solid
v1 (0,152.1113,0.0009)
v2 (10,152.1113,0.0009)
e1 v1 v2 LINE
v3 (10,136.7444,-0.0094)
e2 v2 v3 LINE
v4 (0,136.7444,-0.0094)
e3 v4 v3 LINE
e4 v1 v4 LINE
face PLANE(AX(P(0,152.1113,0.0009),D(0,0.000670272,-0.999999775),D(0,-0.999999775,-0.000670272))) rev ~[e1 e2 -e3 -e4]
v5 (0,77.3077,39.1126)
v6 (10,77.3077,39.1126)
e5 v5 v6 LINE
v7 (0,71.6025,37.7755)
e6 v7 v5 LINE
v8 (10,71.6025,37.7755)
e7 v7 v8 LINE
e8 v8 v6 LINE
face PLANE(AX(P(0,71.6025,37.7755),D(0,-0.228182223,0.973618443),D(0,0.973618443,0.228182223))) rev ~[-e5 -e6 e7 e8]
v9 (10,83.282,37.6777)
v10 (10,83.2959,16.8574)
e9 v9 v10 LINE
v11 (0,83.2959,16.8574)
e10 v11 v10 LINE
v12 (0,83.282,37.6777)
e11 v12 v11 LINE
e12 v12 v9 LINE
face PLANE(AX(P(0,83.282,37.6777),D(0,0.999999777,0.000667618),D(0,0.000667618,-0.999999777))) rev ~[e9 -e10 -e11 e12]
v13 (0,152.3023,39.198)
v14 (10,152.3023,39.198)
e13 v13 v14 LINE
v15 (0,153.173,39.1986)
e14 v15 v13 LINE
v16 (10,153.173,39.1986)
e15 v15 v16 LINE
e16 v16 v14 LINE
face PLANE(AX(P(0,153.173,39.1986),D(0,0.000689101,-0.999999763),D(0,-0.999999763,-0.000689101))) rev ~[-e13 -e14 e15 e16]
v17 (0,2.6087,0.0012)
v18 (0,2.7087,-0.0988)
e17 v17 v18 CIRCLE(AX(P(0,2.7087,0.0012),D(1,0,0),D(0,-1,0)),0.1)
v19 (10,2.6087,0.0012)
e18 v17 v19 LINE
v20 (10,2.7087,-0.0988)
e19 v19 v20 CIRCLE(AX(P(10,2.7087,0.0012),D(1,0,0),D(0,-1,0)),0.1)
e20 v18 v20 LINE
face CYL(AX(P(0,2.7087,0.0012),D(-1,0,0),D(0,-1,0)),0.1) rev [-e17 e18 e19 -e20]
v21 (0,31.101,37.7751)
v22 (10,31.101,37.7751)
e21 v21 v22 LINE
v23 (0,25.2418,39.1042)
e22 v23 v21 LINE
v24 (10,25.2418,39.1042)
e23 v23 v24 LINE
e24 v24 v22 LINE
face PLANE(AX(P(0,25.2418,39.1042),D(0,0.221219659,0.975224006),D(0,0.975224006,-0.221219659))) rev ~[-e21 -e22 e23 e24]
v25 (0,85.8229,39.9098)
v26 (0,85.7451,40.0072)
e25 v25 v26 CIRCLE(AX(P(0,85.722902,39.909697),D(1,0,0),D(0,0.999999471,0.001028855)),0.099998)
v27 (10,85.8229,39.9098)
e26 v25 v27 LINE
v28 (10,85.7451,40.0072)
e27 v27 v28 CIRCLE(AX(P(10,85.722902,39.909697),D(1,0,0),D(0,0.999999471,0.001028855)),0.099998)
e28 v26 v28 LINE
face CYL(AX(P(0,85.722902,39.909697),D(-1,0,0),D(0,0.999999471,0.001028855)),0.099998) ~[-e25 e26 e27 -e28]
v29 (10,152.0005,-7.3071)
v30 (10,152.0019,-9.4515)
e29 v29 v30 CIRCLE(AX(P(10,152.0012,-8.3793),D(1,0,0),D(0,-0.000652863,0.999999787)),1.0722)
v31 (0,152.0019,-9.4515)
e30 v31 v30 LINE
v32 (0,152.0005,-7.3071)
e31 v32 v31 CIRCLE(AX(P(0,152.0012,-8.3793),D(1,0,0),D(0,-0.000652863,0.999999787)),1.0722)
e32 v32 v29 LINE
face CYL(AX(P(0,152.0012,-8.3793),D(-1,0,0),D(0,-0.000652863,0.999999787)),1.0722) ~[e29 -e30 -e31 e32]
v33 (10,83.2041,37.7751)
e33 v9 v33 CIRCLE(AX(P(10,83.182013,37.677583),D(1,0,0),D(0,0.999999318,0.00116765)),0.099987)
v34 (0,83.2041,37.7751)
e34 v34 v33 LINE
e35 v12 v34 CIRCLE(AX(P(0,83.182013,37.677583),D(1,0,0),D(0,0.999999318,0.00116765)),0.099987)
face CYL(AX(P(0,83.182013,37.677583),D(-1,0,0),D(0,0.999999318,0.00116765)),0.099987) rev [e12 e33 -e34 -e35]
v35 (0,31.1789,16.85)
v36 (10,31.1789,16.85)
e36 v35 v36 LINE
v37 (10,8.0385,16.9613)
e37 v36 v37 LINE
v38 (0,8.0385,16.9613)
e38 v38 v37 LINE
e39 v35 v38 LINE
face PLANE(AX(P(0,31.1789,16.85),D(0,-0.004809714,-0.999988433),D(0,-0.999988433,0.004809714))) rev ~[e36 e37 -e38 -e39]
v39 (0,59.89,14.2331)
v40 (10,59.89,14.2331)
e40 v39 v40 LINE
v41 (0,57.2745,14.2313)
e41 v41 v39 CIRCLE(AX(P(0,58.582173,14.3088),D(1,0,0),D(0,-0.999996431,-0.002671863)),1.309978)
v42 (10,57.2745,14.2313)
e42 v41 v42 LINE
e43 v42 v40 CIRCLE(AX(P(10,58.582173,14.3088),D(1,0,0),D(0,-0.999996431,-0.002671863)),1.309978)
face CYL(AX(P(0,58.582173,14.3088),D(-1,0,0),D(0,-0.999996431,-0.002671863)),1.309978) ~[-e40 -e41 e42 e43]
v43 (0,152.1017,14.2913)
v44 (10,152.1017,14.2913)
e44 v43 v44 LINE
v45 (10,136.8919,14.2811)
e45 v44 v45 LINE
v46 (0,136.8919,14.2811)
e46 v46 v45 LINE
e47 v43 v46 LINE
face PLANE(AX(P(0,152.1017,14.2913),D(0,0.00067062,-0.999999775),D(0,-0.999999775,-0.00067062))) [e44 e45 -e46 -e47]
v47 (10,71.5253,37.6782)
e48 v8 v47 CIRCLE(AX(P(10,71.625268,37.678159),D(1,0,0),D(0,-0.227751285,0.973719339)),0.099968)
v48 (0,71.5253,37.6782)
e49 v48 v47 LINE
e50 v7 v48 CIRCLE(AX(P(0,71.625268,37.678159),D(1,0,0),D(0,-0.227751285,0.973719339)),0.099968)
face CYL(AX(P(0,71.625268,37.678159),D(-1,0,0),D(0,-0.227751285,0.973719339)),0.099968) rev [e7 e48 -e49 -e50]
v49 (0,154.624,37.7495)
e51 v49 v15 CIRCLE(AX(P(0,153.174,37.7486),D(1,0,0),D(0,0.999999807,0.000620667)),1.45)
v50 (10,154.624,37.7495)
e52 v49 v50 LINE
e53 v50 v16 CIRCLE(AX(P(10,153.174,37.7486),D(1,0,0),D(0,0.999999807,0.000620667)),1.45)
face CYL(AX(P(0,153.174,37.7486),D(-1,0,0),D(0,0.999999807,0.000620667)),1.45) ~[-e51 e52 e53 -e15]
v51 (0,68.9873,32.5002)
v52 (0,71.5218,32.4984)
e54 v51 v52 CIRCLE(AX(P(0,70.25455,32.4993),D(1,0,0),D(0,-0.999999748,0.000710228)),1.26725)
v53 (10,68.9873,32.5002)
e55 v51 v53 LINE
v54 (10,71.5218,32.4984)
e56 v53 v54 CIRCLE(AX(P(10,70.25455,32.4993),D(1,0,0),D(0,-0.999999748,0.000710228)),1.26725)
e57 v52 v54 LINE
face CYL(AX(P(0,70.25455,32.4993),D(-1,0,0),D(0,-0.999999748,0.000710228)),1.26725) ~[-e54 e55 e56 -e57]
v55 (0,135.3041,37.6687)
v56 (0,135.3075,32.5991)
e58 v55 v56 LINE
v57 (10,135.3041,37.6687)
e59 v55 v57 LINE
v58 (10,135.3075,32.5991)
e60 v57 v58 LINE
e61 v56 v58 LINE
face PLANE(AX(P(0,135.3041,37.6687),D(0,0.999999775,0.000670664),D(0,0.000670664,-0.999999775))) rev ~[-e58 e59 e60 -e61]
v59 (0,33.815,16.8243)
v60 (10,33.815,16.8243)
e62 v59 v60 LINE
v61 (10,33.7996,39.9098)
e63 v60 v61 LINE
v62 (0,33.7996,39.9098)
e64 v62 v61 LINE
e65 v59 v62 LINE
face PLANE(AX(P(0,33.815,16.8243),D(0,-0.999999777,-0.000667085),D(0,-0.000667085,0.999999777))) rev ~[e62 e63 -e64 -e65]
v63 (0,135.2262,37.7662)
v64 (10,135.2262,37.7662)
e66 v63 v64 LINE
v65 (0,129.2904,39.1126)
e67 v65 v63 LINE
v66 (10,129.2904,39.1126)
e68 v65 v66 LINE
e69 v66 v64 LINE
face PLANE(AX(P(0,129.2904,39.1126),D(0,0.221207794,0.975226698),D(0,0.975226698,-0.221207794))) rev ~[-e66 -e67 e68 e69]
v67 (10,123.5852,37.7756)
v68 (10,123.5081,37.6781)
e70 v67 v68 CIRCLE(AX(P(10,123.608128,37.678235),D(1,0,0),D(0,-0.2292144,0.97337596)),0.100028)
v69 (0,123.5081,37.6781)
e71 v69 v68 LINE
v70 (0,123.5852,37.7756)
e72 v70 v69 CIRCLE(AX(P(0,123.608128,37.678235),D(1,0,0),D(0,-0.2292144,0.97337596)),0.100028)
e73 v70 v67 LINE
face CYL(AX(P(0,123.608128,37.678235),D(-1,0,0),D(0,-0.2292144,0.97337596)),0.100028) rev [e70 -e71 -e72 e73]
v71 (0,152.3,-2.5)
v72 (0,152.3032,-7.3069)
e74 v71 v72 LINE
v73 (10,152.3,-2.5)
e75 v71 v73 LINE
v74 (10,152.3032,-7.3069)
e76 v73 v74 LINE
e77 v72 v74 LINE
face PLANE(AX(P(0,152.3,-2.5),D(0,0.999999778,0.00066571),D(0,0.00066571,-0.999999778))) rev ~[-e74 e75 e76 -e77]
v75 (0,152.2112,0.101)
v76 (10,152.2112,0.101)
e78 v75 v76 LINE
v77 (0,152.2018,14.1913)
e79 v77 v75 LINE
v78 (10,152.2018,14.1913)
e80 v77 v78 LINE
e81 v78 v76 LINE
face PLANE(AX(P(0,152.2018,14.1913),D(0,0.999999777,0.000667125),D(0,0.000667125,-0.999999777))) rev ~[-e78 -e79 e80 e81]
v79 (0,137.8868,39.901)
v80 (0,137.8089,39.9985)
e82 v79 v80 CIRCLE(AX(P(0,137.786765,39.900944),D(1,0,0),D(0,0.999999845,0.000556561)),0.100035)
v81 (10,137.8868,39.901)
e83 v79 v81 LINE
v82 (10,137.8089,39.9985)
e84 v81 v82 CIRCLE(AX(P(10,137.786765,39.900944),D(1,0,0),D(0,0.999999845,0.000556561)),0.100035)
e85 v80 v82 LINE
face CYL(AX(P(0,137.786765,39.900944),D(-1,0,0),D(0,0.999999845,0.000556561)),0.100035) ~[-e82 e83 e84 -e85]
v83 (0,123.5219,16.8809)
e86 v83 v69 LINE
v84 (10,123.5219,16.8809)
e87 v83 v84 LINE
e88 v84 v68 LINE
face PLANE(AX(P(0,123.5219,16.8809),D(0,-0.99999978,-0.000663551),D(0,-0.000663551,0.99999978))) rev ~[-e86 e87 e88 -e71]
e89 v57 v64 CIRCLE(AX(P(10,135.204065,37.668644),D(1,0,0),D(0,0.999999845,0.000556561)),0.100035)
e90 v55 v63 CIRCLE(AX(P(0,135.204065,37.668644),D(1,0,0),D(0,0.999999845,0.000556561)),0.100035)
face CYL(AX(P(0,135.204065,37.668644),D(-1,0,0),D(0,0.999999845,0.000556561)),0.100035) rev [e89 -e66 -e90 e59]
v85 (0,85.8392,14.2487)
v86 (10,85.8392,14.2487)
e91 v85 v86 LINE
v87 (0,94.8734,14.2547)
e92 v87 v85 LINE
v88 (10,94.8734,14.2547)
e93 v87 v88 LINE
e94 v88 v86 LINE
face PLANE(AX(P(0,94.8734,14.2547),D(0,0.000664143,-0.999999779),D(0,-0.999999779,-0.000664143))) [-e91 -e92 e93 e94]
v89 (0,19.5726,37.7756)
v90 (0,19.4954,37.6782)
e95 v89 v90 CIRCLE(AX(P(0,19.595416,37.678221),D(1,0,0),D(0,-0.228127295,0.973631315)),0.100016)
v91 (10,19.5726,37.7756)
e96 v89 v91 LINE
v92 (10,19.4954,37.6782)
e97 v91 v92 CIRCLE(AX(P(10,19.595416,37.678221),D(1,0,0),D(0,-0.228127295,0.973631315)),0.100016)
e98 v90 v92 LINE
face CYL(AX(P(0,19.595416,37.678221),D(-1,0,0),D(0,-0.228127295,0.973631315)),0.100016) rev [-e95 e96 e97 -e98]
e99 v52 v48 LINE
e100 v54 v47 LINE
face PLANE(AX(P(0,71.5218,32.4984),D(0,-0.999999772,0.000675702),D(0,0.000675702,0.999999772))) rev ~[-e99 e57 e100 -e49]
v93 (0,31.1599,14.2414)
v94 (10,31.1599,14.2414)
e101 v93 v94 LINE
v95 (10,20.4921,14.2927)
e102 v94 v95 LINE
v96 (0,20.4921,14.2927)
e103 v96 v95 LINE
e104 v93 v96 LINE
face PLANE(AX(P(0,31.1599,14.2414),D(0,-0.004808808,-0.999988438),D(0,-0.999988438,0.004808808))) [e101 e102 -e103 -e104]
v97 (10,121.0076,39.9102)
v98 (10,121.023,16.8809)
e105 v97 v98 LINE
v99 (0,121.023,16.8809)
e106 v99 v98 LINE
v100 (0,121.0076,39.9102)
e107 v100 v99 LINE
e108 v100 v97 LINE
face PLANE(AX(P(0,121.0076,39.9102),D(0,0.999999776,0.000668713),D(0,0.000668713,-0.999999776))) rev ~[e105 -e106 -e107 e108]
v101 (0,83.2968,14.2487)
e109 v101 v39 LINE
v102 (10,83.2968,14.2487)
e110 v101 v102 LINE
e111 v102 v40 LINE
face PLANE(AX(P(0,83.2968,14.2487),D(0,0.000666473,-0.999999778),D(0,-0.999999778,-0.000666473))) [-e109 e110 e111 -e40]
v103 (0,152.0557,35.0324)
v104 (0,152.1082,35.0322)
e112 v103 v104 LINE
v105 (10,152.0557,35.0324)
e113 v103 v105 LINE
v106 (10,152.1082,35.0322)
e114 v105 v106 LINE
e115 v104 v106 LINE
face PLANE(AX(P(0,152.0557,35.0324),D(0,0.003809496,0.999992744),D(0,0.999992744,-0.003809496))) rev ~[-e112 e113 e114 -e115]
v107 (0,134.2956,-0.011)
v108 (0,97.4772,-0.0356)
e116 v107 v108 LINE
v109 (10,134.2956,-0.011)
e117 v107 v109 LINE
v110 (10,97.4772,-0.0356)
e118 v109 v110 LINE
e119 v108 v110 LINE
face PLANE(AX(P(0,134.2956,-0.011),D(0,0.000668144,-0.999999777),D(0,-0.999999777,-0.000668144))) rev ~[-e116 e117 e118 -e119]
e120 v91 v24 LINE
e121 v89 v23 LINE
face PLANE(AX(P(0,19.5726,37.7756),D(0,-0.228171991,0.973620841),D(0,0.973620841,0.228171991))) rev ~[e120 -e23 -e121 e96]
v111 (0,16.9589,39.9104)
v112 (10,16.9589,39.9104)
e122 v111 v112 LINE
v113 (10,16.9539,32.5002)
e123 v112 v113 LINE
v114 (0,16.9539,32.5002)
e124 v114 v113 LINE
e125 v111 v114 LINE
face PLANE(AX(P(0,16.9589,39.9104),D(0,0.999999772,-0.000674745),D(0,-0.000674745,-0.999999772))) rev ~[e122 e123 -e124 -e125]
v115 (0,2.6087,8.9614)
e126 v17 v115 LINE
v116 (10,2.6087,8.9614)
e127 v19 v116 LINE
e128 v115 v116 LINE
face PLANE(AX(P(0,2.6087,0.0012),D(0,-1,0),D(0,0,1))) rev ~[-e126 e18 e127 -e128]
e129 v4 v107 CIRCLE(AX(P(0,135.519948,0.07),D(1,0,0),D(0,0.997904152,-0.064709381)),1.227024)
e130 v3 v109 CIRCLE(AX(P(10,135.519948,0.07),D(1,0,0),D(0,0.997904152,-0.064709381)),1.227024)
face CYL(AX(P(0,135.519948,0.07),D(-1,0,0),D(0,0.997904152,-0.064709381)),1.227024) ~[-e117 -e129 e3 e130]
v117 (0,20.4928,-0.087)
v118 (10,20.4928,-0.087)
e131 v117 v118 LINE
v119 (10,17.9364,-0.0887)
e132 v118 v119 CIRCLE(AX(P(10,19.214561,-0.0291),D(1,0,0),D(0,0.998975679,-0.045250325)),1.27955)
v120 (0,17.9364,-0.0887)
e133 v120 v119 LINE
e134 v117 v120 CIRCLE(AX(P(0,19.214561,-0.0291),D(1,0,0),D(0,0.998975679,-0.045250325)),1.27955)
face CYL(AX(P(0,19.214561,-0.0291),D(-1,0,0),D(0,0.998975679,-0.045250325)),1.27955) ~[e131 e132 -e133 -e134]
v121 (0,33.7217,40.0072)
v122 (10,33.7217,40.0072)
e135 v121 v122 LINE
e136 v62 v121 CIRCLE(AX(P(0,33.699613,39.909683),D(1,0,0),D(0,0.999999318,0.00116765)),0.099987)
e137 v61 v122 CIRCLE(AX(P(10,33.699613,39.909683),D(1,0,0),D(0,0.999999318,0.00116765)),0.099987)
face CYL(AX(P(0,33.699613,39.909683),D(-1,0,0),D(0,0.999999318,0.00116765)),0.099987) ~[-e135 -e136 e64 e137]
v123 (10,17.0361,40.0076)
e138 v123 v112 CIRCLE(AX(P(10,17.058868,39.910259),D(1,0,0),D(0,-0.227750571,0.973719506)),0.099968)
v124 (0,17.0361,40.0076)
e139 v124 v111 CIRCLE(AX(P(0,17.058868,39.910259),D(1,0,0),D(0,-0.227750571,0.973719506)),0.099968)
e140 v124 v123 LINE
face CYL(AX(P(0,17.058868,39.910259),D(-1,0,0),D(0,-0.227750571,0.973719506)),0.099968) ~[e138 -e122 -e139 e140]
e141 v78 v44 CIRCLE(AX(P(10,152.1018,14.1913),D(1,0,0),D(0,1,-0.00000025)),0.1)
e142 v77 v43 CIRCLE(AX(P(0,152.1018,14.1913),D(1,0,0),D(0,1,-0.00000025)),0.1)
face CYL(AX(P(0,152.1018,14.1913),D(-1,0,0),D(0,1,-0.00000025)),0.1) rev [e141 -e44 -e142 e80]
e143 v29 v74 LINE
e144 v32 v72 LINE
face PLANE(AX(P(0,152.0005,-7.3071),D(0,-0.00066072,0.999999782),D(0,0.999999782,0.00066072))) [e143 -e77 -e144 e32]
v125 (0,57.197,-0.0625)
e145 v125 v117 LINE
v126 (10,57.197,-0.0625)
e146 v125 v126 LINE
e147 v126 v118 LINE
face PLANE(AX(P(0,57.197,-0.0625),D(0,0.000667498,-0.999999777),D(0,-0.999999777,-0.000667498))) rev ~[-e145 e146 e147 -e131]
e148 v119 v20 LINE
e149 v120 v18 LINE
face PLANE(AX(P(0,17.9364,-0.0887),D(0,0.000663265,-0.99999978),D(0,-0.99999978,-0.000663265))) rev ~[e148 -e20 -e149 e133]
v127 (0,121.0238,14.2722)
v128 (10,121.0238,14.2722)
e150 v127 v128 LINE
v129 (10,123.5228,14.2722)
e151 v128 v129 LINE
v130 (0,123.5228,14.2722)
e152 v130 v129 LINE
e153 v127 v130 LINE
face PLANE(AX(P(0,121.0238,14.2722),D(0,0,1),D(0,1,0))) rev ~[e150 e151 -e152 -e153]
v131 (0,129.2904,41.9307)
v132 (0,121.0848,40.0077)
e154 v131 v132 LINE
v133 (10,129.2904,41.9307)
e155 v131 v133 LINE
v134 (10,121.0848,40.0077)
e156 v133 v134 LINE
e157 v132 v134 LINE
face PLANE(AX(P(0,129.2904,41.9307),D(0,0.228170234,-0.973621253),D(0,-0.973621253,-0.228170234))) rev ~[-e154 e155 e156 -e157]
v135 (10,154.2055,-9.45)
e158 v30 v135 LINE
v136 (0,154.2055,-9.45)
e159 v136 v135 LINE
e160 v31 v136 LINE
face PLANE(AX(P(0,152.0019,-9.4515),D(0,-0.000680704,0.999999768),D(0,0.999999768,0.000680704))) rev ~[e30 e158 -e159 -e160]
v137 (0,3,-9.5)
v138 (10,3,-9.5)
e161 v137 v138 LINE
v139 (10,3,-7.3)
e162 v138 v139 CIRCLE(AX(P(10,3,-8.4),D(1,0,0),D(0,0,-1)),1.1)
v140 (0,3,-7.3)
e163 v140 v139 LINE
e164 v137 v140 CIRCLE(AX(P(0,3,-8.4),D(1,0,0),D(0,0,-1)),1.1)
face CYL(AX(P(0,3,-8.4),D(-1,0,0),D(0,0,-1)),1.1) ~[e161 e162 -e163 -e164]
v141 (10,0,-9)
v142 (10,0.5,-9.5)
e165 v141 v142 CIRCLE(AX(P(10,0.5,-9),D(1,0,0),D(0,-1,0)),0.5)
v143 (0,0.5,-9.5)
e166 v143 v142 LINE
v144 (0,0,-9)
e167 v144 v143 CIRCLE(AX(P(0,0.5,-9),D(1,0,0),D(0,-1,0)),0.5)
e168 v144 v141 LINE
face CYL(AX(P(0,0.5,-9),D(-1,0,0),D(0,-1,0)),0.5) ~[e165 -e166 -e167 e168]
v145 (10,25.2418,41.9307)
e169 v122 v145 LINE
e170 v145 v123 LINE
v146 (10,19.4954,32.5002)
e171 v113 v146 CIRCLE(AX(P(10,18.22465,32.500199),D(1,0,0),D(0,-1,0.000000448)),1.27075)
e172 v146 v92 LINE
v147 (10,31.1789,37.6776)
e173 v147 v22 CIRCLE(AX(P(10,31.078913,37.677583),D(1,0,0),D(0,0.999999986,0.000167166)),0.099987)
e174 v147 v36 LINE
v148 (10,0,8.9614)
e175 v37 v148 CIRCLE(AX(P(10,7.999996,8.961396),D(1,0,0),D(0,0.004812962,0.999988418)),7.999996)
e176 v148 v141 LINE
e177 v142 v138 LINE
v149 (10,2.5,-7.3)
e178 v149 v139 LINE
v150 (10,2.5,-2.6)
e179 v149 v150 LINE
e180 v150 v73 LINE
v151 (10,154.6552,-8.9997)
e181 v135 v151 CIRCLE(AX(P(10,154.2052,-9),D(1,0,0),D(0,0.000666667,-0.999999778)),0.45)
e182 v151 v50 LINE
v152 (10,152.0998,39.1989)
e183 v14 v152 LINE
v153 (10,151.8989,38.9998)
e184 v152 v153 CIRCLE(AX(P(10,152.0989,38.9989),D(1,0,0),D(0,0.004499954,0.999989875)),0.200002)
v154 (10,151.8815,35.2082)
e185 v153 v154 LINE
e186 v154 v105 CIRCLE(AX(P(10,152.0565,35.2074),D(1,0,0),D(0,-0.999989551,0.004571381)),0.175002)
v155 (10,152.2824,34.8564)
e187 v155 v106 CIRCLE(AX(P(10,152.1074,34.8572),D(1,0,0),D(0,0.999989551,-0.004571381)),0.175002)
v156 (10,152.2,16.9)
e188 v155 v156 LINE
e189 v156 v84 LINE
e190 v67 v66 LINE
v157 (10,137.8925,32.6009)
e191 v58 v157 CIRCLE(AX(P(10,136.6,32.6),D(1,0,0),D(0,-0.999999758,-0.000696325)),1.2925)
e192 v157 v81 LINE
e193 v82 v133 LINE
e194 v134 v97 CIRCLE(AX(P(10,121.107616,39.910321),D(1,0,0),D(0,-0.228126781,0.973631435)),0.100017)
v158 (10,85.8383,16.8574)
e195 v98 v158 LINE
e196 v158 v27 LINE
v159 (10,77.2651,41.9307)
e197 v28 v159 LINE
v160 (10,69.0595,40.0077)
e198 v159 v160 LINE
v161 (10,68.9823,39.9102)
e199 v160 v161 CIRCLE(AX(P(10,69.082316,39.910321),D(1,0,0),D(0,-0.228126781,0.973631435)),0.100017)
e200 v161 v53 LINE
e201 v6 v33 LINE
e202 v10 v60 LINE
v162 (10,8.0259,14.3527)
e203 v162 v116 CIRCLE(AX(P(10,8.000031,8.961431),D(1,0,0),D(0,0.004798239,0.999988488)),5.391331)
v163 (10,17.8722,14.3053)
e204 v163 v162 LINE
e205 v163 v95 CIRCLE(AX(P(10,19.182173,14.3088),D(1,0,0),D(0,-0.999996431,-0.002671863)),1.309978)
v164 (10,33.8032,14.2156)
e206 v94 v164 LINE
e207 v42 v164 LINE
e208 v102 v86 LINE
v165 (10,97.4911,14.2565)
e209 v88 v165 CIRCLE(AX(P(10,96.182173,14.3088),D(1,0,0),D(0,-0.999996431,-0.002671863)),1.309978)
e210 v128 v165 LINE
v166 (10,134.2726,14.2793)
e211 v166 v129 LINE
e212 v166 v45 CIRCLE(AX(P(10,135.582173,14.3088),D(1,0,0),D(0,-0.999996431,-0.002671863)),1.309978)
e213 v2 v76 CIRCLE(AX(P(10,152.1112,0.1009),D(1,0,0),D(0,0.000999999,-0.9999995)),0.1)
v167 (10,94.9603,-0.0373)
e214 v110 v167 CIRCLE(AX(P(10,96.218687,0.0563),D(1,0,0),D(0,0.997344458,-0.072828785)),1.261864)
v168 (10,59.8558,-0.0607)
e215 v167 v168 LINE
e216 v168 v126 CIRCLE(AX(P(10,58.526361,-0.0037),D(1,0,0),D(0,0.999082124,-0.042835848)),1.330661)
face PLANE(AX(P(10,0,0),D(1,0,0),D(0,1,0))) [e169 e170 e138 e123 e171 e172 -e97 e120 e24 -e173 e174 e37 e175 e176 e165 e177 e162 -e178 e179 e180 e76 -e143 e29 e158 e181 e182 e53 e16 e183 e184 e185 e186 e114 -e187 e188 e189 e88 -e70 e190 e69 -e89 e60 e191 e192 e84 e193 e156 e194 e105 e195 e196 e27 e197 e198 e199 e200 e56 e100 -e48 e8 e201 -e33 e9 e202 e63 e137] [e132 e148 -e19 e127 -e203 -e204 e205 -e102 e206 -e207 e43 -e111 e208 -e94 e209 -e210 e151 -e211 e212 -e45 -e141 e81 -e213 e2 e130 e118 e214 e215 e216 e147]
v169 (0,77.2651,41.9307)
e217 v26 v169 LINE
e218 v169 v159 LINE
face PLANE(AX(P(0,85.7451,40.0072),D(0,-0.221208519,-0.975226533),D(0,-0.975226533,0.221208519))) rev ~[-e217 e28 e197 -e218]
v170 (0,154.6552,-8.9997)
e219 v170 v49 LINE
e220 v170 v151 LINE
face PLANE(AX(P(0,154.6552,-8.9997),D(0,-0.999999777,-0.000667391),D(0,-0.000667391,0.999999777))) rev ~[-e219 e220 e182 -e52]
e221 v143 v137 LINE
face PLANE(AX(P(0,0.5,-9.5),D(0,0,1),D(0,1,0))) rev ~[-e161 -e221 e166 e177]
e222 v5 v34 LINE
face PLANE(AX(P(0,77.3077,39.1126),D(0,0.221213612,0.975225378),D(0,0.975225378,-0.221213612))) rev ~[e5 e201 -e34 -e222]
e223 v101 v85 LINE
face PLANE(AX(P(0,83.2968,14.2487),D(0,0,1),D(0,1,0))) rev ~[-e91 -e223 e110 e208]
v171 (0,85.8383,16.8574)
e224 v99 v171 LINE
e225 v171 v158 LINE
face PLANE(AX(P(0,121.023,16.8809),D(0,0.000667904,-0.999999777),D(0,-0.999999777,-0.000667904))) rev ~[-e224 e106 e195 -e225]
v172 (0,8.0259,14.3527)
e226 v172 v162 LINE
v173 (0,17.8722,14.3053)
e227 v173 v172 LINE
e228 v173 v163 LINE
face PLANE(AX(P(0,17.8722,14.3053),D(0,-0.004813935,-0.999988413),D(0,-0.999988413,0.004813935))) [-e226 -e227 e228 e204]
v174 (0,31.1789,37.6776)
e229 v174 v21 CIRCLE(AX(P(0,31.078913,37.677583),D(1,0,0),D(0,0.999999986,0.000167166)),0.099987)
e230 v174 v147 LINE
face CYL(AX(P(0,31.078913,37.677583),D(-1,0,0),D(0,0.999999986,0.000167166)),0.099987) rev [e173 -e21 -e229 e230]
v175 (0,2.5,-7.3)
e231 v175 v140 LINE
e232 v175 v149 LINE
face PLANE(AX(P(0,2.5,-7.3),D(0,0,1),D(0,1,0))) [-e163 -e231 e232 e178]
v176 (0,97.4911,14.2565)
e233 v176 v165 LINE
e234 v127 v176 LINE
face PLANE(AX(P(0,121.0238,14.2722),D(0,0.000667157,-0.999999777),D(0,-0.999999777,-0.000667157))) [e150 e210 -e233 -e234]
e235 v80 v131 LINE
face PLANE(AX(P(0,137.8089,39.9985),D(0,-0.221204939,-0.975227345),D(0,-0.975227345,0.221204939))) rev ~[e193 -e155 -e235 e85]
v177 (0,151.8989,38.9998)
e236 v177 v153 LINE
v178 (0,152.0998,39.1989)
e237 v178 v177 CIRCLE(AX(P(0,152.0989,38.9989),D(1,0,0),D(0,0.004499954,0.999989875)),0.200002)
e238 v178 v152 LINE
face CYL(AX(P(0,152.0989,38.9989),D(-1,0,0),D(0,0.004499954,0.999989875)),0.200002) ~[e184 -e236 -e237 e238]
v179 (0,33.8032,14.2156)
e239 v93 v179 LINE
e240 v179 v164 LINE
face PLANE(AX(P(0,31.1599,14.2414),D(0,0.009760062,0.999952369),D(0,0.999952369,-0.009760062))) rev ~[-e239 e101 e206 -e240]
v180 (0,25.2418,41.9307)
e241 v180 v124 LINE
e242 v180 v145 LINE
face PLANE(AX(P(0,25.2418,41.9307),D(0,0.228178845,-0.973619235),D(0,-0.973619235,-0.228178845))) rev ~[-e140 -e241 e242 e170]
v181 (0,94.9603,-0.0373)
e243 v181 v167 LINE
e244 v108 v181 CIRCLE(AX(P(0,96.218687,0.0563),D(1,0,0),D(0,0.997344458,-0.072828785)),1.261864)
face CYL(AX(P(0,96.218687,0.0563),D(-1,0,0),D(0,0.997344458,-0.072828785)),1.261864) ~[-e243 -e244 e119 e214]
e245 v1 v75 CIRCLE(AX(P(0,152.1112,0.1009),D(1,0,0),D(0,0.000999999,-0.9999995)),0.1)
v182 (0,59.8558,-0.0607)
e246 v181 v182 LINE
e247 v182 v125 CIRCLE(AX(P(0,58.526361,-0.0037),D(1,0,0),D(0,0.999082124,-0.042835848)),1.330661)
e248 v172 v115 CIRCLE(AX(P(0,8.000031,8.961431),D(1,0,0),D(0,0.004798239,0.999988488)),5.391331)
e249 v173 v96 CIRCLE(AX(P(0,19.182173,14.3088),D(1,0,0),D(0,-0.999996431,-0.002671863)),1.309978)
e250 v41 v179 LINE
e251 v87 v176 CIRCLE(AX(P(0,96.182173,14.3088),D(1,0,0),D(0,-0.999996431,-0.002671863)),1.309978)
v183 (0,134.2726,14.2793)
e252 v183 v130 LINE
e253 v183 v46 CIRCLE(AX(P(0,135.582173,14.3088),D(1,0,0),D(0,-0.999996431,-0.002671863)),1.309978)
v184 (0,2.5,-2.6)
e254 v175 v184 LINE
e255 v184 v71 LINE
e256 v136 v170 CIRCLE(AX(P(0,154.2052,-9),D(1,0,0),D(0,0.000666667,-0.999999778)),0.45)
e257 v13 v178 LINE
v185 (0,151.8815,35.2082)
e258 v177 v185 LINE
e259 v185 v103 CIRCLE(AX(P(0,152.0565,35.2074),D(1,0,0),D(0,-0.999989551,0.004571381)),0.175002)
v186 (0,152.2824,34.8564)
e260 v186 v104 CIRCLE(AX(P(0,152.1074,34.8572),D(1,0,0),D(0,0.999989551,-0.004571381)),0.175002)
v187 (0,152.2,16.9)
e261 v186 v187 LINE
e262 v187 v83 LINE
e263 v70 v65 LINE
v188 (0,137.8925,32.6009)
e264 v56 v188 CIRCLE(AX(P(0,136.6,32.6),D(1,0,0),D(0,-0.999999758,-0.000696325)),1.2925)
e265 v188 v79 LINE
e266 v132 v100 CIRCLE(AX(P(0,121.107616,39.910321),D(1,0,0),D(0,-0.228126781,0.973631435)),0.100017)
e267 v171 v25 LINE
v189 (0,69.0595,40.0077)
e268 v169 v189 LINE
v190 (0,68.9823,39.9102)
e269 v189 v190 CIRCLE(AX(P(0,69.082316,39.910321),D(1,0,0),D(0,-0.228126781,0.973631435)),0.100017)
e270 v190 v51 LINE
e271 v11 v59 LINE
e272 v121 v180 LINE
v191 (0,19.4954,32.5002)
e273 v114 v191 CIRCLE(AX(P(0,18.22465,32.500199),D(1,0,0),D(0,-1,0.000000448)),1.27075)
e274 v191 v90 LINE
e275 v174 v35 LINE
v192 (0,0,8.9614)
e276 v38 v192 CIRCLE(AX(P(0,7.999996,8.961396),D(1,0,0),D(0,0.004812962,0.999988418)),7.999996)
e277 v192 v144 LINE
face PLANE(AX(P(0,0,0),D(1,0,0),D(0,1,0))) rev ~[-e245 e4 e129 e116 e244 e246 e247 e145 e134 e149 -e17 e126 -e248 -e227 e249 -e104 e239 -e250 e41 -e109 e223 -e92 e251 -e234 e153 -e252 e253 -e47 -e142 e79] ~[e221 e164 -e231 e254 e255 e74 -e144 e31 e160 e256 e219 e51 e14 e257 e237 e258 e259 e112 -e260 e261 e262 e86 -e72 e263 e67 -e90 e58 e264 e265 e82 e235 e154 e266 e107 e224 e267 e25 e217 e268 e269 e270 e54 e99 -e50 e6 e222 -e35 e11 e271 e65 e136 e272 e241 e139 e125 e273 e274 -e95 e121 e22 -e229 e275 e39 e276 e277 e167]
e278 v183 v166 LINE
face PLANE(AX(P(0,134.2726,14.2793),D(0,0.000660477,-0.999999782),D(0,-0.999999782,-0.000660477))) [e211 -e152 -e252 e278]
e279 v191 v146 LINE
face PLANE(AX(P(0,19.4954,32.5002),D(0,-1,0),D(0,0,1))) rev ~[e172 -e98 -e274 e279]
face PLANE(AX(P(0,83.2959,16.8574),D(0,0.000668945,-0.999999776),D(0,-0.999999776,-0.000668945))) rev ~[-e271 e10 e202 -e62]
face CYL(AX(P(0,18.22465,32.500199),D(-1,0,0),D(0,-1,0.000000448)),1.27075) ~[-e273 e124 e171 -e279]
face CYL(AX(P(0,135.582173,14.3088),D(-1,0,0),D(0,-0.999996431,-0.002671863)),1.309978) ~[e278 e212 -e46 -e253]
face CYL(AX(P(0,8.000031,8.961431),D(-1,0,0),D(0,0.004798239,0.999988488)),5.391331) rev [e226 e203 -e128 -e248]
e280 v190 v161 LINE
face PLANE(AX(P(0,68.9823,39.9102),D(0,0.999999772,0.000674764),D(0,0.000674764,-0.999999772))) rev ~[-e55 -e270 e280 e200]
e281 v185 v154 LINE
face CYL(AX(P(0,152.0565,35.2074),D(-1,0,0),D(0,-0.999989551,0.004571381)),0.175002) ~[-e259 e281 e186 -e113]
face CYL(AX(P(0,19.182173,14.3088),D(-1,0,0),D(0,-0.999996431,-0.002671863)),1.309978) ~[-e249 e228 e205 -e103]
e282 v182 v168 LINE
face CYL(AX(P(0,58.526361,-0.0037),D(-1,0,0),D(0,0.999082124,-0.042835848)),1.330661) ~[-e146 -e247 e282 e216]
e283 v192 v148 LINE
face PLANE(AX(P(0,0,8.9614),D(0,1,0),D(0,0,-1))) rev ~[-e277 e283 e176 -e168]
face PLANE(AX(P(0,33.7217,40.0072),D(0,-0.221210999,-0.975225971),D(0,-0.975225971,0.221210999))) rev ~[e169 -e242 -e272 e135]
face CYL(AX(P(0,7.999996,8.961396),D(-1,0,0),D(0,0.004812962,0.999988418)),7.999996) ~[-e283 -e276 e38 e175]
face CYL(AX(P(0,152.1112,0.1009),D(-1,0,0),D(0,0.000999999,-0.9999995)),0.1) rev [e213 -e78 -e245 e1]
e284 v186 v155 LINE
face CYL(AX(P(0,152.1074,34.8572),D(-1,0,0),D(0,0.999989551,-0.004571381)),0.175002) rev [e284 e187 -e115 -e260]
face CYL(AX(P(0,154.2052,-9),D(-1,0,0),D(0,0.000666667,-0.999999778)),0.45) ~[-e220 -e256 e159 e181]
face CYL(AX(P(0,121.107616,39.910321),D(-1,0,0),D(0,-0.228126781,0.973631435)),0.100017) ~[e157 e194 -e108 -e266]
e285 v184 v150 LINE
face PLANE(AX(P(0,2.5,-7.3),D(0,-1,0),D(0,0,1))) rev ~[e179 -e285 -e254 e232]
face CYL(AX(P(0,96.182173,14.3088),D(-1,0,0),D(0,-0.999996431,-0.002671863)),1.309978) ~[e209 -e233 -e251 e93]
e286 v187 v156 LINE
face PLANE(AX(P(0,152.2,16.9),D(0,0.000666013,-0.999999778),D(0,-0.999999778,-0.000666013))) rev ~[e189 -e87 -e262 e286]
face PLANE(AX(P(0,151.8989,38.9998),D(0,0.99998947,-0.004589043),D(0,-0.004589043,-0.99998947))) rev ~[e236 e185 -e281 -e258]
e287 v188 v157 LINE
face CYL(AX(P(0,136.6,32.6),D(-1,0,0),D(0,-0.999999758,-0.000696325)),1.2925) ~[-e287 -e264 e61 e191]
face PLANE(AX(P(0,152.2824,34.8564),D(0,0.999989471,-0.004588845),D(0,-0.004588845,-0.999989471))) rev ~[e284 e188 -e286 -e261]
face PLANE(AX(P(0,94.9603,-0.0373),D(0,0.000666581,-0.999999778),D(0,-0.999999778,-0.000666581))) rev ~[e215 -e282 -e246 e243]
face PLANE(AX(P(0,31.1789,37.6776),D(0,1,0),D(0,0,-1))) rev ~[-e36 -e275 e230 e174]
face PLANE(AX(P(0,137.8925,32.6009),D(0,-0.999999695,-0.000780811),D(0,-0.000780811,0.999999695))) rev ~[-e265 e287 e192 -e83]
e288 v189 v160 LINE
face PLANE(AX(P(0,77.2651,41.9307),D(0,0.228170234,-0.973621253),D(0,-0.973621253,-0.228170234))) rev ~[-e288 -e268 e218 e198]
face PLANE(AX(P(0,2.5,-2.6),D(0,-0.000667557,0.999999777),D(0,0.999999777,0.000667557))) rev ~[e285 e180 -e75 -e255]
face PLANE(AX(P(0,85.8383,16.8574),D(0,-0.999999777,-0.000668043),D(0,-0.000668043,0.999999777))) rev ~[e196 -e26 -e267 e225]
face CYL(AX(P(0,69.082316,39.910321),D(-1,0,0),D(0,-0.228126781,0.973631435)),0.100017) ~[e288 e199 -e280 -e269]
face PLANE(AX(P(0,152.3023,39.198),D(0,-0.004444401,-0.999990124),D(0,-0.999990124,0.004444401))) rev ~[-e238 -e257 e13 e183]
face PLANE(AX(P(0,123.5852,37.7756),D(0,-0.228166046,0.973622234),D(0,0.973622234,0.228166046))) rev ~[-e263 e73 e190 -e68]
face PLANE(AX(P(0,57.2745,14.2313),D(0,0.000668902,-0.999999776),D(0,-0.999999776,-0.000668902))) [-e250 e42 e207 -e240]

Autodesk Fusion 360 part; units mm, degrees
sketch "Boceto1" plane through (0, 0, 0) normal (1, 0, 0) x (0, 1, 0)
  line L0 (2.5, -7.3) -> (2.5, -2.6)
  line L1 (2.5, -2.6) -> (152.3, -2.5)
  line L2 (152.3, -2.5) -> (152.3032, -7.3069)
  line L3 (154.6552, -8.9997) -> (154.624, 37.7495)
  line L4 (153.173, 39.1986) -> (152.3023, 39.198)
  line L5 (152.2824, 34.8564) -> (152.2, 16.9)
  line L6 (152.2, 16.9) -> (123.5219, 16.8809)
  line L7 (123.5219, 16.8809) -> (123.5081, 37.6781)
  line L8 (123.5852, 37.7756) -> (129.2904, 39.1126)
  line L9 (129.2904, 39.1126) -> (135.2262, 37.7662)
  line L10 (135.3041, 37.6687) -> (135.3075, 32.5991)
  line L11 (137.8925, 32.6009) -> (137.8868, 39.901)
  line L12 (137.8089, 39.9985) -> (129.2904, 41.9307)
  line L13 (129.2904, 41.9307) -> (121.0848, 40.0077)
  line L14 (121.0076, 39.9102) -> (121.023, 16.8809)
  line L15 (121.023, 16.8809) -> (85.8383, 16.8574)
  line L16 (85.8383, 16.8574) -> (85.8229, 39.9098)
  line L17 (85.7451, 40.0072) -> (77.2651, 41.9307)
  line L18 (77.2651, 41.9307) -> (69.0595, 40.0077)
  line L19 (68.9823, 39.9102) -> (68.9873, 32.5002)
  line L20 (71.5218, 32.4984) -> (71.5253, 37.6782)
  line L21 (71.6025, 37.7755) -> (77.3077, 39.1126)
  line L22 (77.3077, 39.1126) -> (83.2041, 37.7751)
  line L23 (83.282, 37.6777) -> (83.2959, 16.8574)
  line L24 (83.2959, 16.8574) -> (33.815, 16.8243)
  line L25 (33.815, 16.8243) -> (33.7996, 39.9098)
  line L26 (33.7217, 40.0072) -> (25.2418, 41.9307)
  line L27 (25.2418, 41.9307) -> (17.0361, 40.0076)
  line L28 (16.9589, 39.9104) -> (16.9539, 32.5002)
  line L29 (19.4954, 32.5002) -> (19.4954, 37.6782)
  line L30 (19.5726, 37.7756) -> (25.2418, 39.1042)
  line L31 (25.2418, 39.1042) -> (31.101, 37.7751)
  line L32 (31.1789, 37.6776) -> (31.1789, 16.85)
  line L33 (31.1789, 16.85) -> (8.0385, 16.9613)
  line L34 (0, 8.9614) -> (0, -9)
  arc A0 (16.9539, 32.5019) -> (19.4954, 32.5002) centre (18.2246, 32.5002) ccw
  arc A1 (68.9873, 32.5002) -> (71.5218, 32.4984) centre (70.2545, 32.4993) ccw
  arc A2 (135.3075, 32.5991) -> (137.8925, 32.6009) centre (136.6, 32.6) ccw
  arc A3 (8.0385, 16.9613) -> (0, 8.9614) centre (8, 8.9614) ccw
  arc A4 (8.0259, 14.3527) -> (2.6087, 8.9614) centre (8, 8.9614) ccw
  line L35 (31.1599, 14.2414) -> (33.8032, 14.2156)
  line L36 (83.2968, 14.2487) -> (85.8392, 14.2487)
  line L37 (121.0238, 14.2722) -> (123.5228, 14.2722)
  line L38 (152.2018, 14.1913) -> (152.2112, 0.101)
  line L39 (2.6087, 0.0012) -> (2.6087, 8.9614)
  arc A5 (2.6087, 0.0012) -> (2.7087, -0.0988) centre (2.7087, 0.0012) ccw
  arc A6 (152.2018, 14.1913) -> (152.1017, 14.2913) centre (152.1018, 14.1913) ccw
  arc A7 (152.1113, 0.0009) -> (152.2112, 0.101) centre (152.1112, 0.1009) ccw
  arc A8 (17.0361, 40.0076) -> (16.9589, 39.9104) centre (17.0589, 39.9103) ccw
  arc A9 (33.7996, 39.9098) -> (33.7217, 40.0072) centre (33.6996, 39.9097) ccw
  arc A10 (31.1789, 37.6776) -> (31.101, 37.7751) centre (31.0789, 37.6776) ccw
  arc A11 (19.5726, 37.7756) -> (19.4954, 37.6782) centre (19.5954, 37.6782) ccw
  arc A12 (71.6025, 37.7755) -> (71.5253, 37.6782) centre (71.6253, 37.6782) ccw
  arc A13 (69.0595, 40.0077) -> (68.9823, 39.9102) centre (69.0823, 39.9103) ccw
  arc A14 (85.8229, 39.9098) -> (85.7451, 40.0072) centre (85.7229, 39.9097) ccw
  arc A15 (83.282, 37.6777) -> (83.2041, 37.7751) centre (83.182, 37.6776) ccw
  arc A16 (137.8868, 39.901) -> (137.8089, 39.9985) centre (137.7868, 39.9009) ccw
  arc A17 (135.3041, 37.6687) -> (135.2262, 37.7662) centre (135.2041, 37.6686) ccw
  arc A18 (121.0848, 40.0077) -> (121.0076, 39.9102) centre (121.1076, 39.9103) ccw
  arc A19 (123.5852, 37.7756) -> (123.5081, 37.6781) centre (123.6081, 37.6782) ccw
  line L40 (2.5, -7.3) -> (3, -7.3)
  line L41 (0.5, -9.5) -> (3, -9.5)
  arc A20 (3, -9.5) -> (3, -7.3) centre (3, -8.4) ccw
  arc A21 (0, -9) -> (0.5, -9.5) centre (0.5, -9) ccw
  line L42 (152.0019, -9.4515) -> (154.2055, -9.45)
  line L43 (152.0005, -7.3071) -> (152.3032, -7.3069)
  arc A22 (152.0005, -7.3071) -> (152.0019, -9.4515) centre (152.0012, -8.3793) ccw
  arc A23 (154.2055, -9.45) -> (154.6552, -8.9997) centre (154.2052, -9) ccw
  line L44 (152.3023, 39.198) -> (152.0998, 39.1989)
  line L45 (151.8989, 38.9998) -> (151.8815, 35.2082)
  line L46 (152.0557, 35.0324) -> (152.1082, 35.0322)
  arc A24 (152.0998, 39.1989) -> (151.8989, 38.9998) centre (152.0989, 38.9989) ccw
  arc A25 (154.624, 37.7495) -> (153.173, 39.1986) centre (153.174, 37.7486) ccw
  arc A26 (152.2824, 34.8564) -> (152.1082, 35.0322) centre (152.1074, 34.8572) ccw
  arc A27 (151.8815, 35.2082) -> (152.0557, 35.0324) centre (152.0565, 35.2074) ccw
  arc A28 (17.8722, 14.3053) -> (20.4921, 14.2972) centre (19.1822, 14.3088) ccw
  arc A29 (94.8722, 14.3053) -> (97.4921, 14.2972) centre (96.1822, 14.3088) ccw
  arc A30 (134.2722, 14.3053) -> (136.8921, 14.2972) centre (135.5822, 14.3088) ccw
  arc A31 (57.2722, 14.3053) -> (59.8921, 14.2972) centre (58.5822, 14.3088) ccw
  line L47 (31.1599, 14.2414) -> (20.4921, 14.2927)
  line L48 (17.8722, 14.3053) -> (8.0259, 14.3527)
  line L49 (83.2968, 14.2487) -> (59.89, 14.2331)
  line L50 (57.2745, 14.2313) -> (33.8032, 14.2156)
  line L51 (121.0238, 14.2722) -> (97.4911, 14.2565)
  line L52 (94.8734, 14.2547) -> (85.8392, 14.2487)
  line L53 (152.1017, 14.2913) -> (136.8919, 14.2811)
  line L54 (134.2726, 14.2793) -> (123.5228, 14.2722)
  arc A32 (20.4928, -0.087) -> (17.9364, -0.0887) centre (19.2145, -0.0291) ccw
  arc A33 (59.8558, -0.0607) -> (57.197, -0.0625) centre (58.5264, -0.0037) ccw
  arc A34 (97.4772, -0.0356) -> (94.9603, -0.0373) centre (96.2187, 0.0563) ccw
  arc A35 (136.7444, -0.0094) -> (134.2956, -0.011) centre (135.52, 0.07) ccw
  line L55 (152.1113, 0.0009) -> (136.7444, -0.0094)
  line L56 (134.2956, -0.011) -> (97.4772, -0.0356)
  line L57 (94.9603, -0.0373) -> (59.8558, -0.0607)
  line L58 (57.197, -0.0625) -> (20.4928, -0.087)
  line L59 (17.9364, -0.0887) -> (2.7087, -0.0988)
  dimension "d1" = 8
  dimension "d3" = 0.1
  dimension "d4" = 0.1
  dimension "d5" = 0.1
  dimension "d6" = 0.5
  dimension "d7" = 0.45
  dimension "d8" = 0.2
  dimension "d9" = 1.45
  dimension "d10" = 0.175
  dimension "d13" = 77
  dimension "d14" = 0
  dimension "d17" = 39.4
  dimension "d18" = 0
  dimension "d21" = -37.6
  dimension "d22" = 0
extrude "Extruir1" add sketch "Boceto1" along normal blind 10
equation "L = 10 mm"
equation "d25 = L"
